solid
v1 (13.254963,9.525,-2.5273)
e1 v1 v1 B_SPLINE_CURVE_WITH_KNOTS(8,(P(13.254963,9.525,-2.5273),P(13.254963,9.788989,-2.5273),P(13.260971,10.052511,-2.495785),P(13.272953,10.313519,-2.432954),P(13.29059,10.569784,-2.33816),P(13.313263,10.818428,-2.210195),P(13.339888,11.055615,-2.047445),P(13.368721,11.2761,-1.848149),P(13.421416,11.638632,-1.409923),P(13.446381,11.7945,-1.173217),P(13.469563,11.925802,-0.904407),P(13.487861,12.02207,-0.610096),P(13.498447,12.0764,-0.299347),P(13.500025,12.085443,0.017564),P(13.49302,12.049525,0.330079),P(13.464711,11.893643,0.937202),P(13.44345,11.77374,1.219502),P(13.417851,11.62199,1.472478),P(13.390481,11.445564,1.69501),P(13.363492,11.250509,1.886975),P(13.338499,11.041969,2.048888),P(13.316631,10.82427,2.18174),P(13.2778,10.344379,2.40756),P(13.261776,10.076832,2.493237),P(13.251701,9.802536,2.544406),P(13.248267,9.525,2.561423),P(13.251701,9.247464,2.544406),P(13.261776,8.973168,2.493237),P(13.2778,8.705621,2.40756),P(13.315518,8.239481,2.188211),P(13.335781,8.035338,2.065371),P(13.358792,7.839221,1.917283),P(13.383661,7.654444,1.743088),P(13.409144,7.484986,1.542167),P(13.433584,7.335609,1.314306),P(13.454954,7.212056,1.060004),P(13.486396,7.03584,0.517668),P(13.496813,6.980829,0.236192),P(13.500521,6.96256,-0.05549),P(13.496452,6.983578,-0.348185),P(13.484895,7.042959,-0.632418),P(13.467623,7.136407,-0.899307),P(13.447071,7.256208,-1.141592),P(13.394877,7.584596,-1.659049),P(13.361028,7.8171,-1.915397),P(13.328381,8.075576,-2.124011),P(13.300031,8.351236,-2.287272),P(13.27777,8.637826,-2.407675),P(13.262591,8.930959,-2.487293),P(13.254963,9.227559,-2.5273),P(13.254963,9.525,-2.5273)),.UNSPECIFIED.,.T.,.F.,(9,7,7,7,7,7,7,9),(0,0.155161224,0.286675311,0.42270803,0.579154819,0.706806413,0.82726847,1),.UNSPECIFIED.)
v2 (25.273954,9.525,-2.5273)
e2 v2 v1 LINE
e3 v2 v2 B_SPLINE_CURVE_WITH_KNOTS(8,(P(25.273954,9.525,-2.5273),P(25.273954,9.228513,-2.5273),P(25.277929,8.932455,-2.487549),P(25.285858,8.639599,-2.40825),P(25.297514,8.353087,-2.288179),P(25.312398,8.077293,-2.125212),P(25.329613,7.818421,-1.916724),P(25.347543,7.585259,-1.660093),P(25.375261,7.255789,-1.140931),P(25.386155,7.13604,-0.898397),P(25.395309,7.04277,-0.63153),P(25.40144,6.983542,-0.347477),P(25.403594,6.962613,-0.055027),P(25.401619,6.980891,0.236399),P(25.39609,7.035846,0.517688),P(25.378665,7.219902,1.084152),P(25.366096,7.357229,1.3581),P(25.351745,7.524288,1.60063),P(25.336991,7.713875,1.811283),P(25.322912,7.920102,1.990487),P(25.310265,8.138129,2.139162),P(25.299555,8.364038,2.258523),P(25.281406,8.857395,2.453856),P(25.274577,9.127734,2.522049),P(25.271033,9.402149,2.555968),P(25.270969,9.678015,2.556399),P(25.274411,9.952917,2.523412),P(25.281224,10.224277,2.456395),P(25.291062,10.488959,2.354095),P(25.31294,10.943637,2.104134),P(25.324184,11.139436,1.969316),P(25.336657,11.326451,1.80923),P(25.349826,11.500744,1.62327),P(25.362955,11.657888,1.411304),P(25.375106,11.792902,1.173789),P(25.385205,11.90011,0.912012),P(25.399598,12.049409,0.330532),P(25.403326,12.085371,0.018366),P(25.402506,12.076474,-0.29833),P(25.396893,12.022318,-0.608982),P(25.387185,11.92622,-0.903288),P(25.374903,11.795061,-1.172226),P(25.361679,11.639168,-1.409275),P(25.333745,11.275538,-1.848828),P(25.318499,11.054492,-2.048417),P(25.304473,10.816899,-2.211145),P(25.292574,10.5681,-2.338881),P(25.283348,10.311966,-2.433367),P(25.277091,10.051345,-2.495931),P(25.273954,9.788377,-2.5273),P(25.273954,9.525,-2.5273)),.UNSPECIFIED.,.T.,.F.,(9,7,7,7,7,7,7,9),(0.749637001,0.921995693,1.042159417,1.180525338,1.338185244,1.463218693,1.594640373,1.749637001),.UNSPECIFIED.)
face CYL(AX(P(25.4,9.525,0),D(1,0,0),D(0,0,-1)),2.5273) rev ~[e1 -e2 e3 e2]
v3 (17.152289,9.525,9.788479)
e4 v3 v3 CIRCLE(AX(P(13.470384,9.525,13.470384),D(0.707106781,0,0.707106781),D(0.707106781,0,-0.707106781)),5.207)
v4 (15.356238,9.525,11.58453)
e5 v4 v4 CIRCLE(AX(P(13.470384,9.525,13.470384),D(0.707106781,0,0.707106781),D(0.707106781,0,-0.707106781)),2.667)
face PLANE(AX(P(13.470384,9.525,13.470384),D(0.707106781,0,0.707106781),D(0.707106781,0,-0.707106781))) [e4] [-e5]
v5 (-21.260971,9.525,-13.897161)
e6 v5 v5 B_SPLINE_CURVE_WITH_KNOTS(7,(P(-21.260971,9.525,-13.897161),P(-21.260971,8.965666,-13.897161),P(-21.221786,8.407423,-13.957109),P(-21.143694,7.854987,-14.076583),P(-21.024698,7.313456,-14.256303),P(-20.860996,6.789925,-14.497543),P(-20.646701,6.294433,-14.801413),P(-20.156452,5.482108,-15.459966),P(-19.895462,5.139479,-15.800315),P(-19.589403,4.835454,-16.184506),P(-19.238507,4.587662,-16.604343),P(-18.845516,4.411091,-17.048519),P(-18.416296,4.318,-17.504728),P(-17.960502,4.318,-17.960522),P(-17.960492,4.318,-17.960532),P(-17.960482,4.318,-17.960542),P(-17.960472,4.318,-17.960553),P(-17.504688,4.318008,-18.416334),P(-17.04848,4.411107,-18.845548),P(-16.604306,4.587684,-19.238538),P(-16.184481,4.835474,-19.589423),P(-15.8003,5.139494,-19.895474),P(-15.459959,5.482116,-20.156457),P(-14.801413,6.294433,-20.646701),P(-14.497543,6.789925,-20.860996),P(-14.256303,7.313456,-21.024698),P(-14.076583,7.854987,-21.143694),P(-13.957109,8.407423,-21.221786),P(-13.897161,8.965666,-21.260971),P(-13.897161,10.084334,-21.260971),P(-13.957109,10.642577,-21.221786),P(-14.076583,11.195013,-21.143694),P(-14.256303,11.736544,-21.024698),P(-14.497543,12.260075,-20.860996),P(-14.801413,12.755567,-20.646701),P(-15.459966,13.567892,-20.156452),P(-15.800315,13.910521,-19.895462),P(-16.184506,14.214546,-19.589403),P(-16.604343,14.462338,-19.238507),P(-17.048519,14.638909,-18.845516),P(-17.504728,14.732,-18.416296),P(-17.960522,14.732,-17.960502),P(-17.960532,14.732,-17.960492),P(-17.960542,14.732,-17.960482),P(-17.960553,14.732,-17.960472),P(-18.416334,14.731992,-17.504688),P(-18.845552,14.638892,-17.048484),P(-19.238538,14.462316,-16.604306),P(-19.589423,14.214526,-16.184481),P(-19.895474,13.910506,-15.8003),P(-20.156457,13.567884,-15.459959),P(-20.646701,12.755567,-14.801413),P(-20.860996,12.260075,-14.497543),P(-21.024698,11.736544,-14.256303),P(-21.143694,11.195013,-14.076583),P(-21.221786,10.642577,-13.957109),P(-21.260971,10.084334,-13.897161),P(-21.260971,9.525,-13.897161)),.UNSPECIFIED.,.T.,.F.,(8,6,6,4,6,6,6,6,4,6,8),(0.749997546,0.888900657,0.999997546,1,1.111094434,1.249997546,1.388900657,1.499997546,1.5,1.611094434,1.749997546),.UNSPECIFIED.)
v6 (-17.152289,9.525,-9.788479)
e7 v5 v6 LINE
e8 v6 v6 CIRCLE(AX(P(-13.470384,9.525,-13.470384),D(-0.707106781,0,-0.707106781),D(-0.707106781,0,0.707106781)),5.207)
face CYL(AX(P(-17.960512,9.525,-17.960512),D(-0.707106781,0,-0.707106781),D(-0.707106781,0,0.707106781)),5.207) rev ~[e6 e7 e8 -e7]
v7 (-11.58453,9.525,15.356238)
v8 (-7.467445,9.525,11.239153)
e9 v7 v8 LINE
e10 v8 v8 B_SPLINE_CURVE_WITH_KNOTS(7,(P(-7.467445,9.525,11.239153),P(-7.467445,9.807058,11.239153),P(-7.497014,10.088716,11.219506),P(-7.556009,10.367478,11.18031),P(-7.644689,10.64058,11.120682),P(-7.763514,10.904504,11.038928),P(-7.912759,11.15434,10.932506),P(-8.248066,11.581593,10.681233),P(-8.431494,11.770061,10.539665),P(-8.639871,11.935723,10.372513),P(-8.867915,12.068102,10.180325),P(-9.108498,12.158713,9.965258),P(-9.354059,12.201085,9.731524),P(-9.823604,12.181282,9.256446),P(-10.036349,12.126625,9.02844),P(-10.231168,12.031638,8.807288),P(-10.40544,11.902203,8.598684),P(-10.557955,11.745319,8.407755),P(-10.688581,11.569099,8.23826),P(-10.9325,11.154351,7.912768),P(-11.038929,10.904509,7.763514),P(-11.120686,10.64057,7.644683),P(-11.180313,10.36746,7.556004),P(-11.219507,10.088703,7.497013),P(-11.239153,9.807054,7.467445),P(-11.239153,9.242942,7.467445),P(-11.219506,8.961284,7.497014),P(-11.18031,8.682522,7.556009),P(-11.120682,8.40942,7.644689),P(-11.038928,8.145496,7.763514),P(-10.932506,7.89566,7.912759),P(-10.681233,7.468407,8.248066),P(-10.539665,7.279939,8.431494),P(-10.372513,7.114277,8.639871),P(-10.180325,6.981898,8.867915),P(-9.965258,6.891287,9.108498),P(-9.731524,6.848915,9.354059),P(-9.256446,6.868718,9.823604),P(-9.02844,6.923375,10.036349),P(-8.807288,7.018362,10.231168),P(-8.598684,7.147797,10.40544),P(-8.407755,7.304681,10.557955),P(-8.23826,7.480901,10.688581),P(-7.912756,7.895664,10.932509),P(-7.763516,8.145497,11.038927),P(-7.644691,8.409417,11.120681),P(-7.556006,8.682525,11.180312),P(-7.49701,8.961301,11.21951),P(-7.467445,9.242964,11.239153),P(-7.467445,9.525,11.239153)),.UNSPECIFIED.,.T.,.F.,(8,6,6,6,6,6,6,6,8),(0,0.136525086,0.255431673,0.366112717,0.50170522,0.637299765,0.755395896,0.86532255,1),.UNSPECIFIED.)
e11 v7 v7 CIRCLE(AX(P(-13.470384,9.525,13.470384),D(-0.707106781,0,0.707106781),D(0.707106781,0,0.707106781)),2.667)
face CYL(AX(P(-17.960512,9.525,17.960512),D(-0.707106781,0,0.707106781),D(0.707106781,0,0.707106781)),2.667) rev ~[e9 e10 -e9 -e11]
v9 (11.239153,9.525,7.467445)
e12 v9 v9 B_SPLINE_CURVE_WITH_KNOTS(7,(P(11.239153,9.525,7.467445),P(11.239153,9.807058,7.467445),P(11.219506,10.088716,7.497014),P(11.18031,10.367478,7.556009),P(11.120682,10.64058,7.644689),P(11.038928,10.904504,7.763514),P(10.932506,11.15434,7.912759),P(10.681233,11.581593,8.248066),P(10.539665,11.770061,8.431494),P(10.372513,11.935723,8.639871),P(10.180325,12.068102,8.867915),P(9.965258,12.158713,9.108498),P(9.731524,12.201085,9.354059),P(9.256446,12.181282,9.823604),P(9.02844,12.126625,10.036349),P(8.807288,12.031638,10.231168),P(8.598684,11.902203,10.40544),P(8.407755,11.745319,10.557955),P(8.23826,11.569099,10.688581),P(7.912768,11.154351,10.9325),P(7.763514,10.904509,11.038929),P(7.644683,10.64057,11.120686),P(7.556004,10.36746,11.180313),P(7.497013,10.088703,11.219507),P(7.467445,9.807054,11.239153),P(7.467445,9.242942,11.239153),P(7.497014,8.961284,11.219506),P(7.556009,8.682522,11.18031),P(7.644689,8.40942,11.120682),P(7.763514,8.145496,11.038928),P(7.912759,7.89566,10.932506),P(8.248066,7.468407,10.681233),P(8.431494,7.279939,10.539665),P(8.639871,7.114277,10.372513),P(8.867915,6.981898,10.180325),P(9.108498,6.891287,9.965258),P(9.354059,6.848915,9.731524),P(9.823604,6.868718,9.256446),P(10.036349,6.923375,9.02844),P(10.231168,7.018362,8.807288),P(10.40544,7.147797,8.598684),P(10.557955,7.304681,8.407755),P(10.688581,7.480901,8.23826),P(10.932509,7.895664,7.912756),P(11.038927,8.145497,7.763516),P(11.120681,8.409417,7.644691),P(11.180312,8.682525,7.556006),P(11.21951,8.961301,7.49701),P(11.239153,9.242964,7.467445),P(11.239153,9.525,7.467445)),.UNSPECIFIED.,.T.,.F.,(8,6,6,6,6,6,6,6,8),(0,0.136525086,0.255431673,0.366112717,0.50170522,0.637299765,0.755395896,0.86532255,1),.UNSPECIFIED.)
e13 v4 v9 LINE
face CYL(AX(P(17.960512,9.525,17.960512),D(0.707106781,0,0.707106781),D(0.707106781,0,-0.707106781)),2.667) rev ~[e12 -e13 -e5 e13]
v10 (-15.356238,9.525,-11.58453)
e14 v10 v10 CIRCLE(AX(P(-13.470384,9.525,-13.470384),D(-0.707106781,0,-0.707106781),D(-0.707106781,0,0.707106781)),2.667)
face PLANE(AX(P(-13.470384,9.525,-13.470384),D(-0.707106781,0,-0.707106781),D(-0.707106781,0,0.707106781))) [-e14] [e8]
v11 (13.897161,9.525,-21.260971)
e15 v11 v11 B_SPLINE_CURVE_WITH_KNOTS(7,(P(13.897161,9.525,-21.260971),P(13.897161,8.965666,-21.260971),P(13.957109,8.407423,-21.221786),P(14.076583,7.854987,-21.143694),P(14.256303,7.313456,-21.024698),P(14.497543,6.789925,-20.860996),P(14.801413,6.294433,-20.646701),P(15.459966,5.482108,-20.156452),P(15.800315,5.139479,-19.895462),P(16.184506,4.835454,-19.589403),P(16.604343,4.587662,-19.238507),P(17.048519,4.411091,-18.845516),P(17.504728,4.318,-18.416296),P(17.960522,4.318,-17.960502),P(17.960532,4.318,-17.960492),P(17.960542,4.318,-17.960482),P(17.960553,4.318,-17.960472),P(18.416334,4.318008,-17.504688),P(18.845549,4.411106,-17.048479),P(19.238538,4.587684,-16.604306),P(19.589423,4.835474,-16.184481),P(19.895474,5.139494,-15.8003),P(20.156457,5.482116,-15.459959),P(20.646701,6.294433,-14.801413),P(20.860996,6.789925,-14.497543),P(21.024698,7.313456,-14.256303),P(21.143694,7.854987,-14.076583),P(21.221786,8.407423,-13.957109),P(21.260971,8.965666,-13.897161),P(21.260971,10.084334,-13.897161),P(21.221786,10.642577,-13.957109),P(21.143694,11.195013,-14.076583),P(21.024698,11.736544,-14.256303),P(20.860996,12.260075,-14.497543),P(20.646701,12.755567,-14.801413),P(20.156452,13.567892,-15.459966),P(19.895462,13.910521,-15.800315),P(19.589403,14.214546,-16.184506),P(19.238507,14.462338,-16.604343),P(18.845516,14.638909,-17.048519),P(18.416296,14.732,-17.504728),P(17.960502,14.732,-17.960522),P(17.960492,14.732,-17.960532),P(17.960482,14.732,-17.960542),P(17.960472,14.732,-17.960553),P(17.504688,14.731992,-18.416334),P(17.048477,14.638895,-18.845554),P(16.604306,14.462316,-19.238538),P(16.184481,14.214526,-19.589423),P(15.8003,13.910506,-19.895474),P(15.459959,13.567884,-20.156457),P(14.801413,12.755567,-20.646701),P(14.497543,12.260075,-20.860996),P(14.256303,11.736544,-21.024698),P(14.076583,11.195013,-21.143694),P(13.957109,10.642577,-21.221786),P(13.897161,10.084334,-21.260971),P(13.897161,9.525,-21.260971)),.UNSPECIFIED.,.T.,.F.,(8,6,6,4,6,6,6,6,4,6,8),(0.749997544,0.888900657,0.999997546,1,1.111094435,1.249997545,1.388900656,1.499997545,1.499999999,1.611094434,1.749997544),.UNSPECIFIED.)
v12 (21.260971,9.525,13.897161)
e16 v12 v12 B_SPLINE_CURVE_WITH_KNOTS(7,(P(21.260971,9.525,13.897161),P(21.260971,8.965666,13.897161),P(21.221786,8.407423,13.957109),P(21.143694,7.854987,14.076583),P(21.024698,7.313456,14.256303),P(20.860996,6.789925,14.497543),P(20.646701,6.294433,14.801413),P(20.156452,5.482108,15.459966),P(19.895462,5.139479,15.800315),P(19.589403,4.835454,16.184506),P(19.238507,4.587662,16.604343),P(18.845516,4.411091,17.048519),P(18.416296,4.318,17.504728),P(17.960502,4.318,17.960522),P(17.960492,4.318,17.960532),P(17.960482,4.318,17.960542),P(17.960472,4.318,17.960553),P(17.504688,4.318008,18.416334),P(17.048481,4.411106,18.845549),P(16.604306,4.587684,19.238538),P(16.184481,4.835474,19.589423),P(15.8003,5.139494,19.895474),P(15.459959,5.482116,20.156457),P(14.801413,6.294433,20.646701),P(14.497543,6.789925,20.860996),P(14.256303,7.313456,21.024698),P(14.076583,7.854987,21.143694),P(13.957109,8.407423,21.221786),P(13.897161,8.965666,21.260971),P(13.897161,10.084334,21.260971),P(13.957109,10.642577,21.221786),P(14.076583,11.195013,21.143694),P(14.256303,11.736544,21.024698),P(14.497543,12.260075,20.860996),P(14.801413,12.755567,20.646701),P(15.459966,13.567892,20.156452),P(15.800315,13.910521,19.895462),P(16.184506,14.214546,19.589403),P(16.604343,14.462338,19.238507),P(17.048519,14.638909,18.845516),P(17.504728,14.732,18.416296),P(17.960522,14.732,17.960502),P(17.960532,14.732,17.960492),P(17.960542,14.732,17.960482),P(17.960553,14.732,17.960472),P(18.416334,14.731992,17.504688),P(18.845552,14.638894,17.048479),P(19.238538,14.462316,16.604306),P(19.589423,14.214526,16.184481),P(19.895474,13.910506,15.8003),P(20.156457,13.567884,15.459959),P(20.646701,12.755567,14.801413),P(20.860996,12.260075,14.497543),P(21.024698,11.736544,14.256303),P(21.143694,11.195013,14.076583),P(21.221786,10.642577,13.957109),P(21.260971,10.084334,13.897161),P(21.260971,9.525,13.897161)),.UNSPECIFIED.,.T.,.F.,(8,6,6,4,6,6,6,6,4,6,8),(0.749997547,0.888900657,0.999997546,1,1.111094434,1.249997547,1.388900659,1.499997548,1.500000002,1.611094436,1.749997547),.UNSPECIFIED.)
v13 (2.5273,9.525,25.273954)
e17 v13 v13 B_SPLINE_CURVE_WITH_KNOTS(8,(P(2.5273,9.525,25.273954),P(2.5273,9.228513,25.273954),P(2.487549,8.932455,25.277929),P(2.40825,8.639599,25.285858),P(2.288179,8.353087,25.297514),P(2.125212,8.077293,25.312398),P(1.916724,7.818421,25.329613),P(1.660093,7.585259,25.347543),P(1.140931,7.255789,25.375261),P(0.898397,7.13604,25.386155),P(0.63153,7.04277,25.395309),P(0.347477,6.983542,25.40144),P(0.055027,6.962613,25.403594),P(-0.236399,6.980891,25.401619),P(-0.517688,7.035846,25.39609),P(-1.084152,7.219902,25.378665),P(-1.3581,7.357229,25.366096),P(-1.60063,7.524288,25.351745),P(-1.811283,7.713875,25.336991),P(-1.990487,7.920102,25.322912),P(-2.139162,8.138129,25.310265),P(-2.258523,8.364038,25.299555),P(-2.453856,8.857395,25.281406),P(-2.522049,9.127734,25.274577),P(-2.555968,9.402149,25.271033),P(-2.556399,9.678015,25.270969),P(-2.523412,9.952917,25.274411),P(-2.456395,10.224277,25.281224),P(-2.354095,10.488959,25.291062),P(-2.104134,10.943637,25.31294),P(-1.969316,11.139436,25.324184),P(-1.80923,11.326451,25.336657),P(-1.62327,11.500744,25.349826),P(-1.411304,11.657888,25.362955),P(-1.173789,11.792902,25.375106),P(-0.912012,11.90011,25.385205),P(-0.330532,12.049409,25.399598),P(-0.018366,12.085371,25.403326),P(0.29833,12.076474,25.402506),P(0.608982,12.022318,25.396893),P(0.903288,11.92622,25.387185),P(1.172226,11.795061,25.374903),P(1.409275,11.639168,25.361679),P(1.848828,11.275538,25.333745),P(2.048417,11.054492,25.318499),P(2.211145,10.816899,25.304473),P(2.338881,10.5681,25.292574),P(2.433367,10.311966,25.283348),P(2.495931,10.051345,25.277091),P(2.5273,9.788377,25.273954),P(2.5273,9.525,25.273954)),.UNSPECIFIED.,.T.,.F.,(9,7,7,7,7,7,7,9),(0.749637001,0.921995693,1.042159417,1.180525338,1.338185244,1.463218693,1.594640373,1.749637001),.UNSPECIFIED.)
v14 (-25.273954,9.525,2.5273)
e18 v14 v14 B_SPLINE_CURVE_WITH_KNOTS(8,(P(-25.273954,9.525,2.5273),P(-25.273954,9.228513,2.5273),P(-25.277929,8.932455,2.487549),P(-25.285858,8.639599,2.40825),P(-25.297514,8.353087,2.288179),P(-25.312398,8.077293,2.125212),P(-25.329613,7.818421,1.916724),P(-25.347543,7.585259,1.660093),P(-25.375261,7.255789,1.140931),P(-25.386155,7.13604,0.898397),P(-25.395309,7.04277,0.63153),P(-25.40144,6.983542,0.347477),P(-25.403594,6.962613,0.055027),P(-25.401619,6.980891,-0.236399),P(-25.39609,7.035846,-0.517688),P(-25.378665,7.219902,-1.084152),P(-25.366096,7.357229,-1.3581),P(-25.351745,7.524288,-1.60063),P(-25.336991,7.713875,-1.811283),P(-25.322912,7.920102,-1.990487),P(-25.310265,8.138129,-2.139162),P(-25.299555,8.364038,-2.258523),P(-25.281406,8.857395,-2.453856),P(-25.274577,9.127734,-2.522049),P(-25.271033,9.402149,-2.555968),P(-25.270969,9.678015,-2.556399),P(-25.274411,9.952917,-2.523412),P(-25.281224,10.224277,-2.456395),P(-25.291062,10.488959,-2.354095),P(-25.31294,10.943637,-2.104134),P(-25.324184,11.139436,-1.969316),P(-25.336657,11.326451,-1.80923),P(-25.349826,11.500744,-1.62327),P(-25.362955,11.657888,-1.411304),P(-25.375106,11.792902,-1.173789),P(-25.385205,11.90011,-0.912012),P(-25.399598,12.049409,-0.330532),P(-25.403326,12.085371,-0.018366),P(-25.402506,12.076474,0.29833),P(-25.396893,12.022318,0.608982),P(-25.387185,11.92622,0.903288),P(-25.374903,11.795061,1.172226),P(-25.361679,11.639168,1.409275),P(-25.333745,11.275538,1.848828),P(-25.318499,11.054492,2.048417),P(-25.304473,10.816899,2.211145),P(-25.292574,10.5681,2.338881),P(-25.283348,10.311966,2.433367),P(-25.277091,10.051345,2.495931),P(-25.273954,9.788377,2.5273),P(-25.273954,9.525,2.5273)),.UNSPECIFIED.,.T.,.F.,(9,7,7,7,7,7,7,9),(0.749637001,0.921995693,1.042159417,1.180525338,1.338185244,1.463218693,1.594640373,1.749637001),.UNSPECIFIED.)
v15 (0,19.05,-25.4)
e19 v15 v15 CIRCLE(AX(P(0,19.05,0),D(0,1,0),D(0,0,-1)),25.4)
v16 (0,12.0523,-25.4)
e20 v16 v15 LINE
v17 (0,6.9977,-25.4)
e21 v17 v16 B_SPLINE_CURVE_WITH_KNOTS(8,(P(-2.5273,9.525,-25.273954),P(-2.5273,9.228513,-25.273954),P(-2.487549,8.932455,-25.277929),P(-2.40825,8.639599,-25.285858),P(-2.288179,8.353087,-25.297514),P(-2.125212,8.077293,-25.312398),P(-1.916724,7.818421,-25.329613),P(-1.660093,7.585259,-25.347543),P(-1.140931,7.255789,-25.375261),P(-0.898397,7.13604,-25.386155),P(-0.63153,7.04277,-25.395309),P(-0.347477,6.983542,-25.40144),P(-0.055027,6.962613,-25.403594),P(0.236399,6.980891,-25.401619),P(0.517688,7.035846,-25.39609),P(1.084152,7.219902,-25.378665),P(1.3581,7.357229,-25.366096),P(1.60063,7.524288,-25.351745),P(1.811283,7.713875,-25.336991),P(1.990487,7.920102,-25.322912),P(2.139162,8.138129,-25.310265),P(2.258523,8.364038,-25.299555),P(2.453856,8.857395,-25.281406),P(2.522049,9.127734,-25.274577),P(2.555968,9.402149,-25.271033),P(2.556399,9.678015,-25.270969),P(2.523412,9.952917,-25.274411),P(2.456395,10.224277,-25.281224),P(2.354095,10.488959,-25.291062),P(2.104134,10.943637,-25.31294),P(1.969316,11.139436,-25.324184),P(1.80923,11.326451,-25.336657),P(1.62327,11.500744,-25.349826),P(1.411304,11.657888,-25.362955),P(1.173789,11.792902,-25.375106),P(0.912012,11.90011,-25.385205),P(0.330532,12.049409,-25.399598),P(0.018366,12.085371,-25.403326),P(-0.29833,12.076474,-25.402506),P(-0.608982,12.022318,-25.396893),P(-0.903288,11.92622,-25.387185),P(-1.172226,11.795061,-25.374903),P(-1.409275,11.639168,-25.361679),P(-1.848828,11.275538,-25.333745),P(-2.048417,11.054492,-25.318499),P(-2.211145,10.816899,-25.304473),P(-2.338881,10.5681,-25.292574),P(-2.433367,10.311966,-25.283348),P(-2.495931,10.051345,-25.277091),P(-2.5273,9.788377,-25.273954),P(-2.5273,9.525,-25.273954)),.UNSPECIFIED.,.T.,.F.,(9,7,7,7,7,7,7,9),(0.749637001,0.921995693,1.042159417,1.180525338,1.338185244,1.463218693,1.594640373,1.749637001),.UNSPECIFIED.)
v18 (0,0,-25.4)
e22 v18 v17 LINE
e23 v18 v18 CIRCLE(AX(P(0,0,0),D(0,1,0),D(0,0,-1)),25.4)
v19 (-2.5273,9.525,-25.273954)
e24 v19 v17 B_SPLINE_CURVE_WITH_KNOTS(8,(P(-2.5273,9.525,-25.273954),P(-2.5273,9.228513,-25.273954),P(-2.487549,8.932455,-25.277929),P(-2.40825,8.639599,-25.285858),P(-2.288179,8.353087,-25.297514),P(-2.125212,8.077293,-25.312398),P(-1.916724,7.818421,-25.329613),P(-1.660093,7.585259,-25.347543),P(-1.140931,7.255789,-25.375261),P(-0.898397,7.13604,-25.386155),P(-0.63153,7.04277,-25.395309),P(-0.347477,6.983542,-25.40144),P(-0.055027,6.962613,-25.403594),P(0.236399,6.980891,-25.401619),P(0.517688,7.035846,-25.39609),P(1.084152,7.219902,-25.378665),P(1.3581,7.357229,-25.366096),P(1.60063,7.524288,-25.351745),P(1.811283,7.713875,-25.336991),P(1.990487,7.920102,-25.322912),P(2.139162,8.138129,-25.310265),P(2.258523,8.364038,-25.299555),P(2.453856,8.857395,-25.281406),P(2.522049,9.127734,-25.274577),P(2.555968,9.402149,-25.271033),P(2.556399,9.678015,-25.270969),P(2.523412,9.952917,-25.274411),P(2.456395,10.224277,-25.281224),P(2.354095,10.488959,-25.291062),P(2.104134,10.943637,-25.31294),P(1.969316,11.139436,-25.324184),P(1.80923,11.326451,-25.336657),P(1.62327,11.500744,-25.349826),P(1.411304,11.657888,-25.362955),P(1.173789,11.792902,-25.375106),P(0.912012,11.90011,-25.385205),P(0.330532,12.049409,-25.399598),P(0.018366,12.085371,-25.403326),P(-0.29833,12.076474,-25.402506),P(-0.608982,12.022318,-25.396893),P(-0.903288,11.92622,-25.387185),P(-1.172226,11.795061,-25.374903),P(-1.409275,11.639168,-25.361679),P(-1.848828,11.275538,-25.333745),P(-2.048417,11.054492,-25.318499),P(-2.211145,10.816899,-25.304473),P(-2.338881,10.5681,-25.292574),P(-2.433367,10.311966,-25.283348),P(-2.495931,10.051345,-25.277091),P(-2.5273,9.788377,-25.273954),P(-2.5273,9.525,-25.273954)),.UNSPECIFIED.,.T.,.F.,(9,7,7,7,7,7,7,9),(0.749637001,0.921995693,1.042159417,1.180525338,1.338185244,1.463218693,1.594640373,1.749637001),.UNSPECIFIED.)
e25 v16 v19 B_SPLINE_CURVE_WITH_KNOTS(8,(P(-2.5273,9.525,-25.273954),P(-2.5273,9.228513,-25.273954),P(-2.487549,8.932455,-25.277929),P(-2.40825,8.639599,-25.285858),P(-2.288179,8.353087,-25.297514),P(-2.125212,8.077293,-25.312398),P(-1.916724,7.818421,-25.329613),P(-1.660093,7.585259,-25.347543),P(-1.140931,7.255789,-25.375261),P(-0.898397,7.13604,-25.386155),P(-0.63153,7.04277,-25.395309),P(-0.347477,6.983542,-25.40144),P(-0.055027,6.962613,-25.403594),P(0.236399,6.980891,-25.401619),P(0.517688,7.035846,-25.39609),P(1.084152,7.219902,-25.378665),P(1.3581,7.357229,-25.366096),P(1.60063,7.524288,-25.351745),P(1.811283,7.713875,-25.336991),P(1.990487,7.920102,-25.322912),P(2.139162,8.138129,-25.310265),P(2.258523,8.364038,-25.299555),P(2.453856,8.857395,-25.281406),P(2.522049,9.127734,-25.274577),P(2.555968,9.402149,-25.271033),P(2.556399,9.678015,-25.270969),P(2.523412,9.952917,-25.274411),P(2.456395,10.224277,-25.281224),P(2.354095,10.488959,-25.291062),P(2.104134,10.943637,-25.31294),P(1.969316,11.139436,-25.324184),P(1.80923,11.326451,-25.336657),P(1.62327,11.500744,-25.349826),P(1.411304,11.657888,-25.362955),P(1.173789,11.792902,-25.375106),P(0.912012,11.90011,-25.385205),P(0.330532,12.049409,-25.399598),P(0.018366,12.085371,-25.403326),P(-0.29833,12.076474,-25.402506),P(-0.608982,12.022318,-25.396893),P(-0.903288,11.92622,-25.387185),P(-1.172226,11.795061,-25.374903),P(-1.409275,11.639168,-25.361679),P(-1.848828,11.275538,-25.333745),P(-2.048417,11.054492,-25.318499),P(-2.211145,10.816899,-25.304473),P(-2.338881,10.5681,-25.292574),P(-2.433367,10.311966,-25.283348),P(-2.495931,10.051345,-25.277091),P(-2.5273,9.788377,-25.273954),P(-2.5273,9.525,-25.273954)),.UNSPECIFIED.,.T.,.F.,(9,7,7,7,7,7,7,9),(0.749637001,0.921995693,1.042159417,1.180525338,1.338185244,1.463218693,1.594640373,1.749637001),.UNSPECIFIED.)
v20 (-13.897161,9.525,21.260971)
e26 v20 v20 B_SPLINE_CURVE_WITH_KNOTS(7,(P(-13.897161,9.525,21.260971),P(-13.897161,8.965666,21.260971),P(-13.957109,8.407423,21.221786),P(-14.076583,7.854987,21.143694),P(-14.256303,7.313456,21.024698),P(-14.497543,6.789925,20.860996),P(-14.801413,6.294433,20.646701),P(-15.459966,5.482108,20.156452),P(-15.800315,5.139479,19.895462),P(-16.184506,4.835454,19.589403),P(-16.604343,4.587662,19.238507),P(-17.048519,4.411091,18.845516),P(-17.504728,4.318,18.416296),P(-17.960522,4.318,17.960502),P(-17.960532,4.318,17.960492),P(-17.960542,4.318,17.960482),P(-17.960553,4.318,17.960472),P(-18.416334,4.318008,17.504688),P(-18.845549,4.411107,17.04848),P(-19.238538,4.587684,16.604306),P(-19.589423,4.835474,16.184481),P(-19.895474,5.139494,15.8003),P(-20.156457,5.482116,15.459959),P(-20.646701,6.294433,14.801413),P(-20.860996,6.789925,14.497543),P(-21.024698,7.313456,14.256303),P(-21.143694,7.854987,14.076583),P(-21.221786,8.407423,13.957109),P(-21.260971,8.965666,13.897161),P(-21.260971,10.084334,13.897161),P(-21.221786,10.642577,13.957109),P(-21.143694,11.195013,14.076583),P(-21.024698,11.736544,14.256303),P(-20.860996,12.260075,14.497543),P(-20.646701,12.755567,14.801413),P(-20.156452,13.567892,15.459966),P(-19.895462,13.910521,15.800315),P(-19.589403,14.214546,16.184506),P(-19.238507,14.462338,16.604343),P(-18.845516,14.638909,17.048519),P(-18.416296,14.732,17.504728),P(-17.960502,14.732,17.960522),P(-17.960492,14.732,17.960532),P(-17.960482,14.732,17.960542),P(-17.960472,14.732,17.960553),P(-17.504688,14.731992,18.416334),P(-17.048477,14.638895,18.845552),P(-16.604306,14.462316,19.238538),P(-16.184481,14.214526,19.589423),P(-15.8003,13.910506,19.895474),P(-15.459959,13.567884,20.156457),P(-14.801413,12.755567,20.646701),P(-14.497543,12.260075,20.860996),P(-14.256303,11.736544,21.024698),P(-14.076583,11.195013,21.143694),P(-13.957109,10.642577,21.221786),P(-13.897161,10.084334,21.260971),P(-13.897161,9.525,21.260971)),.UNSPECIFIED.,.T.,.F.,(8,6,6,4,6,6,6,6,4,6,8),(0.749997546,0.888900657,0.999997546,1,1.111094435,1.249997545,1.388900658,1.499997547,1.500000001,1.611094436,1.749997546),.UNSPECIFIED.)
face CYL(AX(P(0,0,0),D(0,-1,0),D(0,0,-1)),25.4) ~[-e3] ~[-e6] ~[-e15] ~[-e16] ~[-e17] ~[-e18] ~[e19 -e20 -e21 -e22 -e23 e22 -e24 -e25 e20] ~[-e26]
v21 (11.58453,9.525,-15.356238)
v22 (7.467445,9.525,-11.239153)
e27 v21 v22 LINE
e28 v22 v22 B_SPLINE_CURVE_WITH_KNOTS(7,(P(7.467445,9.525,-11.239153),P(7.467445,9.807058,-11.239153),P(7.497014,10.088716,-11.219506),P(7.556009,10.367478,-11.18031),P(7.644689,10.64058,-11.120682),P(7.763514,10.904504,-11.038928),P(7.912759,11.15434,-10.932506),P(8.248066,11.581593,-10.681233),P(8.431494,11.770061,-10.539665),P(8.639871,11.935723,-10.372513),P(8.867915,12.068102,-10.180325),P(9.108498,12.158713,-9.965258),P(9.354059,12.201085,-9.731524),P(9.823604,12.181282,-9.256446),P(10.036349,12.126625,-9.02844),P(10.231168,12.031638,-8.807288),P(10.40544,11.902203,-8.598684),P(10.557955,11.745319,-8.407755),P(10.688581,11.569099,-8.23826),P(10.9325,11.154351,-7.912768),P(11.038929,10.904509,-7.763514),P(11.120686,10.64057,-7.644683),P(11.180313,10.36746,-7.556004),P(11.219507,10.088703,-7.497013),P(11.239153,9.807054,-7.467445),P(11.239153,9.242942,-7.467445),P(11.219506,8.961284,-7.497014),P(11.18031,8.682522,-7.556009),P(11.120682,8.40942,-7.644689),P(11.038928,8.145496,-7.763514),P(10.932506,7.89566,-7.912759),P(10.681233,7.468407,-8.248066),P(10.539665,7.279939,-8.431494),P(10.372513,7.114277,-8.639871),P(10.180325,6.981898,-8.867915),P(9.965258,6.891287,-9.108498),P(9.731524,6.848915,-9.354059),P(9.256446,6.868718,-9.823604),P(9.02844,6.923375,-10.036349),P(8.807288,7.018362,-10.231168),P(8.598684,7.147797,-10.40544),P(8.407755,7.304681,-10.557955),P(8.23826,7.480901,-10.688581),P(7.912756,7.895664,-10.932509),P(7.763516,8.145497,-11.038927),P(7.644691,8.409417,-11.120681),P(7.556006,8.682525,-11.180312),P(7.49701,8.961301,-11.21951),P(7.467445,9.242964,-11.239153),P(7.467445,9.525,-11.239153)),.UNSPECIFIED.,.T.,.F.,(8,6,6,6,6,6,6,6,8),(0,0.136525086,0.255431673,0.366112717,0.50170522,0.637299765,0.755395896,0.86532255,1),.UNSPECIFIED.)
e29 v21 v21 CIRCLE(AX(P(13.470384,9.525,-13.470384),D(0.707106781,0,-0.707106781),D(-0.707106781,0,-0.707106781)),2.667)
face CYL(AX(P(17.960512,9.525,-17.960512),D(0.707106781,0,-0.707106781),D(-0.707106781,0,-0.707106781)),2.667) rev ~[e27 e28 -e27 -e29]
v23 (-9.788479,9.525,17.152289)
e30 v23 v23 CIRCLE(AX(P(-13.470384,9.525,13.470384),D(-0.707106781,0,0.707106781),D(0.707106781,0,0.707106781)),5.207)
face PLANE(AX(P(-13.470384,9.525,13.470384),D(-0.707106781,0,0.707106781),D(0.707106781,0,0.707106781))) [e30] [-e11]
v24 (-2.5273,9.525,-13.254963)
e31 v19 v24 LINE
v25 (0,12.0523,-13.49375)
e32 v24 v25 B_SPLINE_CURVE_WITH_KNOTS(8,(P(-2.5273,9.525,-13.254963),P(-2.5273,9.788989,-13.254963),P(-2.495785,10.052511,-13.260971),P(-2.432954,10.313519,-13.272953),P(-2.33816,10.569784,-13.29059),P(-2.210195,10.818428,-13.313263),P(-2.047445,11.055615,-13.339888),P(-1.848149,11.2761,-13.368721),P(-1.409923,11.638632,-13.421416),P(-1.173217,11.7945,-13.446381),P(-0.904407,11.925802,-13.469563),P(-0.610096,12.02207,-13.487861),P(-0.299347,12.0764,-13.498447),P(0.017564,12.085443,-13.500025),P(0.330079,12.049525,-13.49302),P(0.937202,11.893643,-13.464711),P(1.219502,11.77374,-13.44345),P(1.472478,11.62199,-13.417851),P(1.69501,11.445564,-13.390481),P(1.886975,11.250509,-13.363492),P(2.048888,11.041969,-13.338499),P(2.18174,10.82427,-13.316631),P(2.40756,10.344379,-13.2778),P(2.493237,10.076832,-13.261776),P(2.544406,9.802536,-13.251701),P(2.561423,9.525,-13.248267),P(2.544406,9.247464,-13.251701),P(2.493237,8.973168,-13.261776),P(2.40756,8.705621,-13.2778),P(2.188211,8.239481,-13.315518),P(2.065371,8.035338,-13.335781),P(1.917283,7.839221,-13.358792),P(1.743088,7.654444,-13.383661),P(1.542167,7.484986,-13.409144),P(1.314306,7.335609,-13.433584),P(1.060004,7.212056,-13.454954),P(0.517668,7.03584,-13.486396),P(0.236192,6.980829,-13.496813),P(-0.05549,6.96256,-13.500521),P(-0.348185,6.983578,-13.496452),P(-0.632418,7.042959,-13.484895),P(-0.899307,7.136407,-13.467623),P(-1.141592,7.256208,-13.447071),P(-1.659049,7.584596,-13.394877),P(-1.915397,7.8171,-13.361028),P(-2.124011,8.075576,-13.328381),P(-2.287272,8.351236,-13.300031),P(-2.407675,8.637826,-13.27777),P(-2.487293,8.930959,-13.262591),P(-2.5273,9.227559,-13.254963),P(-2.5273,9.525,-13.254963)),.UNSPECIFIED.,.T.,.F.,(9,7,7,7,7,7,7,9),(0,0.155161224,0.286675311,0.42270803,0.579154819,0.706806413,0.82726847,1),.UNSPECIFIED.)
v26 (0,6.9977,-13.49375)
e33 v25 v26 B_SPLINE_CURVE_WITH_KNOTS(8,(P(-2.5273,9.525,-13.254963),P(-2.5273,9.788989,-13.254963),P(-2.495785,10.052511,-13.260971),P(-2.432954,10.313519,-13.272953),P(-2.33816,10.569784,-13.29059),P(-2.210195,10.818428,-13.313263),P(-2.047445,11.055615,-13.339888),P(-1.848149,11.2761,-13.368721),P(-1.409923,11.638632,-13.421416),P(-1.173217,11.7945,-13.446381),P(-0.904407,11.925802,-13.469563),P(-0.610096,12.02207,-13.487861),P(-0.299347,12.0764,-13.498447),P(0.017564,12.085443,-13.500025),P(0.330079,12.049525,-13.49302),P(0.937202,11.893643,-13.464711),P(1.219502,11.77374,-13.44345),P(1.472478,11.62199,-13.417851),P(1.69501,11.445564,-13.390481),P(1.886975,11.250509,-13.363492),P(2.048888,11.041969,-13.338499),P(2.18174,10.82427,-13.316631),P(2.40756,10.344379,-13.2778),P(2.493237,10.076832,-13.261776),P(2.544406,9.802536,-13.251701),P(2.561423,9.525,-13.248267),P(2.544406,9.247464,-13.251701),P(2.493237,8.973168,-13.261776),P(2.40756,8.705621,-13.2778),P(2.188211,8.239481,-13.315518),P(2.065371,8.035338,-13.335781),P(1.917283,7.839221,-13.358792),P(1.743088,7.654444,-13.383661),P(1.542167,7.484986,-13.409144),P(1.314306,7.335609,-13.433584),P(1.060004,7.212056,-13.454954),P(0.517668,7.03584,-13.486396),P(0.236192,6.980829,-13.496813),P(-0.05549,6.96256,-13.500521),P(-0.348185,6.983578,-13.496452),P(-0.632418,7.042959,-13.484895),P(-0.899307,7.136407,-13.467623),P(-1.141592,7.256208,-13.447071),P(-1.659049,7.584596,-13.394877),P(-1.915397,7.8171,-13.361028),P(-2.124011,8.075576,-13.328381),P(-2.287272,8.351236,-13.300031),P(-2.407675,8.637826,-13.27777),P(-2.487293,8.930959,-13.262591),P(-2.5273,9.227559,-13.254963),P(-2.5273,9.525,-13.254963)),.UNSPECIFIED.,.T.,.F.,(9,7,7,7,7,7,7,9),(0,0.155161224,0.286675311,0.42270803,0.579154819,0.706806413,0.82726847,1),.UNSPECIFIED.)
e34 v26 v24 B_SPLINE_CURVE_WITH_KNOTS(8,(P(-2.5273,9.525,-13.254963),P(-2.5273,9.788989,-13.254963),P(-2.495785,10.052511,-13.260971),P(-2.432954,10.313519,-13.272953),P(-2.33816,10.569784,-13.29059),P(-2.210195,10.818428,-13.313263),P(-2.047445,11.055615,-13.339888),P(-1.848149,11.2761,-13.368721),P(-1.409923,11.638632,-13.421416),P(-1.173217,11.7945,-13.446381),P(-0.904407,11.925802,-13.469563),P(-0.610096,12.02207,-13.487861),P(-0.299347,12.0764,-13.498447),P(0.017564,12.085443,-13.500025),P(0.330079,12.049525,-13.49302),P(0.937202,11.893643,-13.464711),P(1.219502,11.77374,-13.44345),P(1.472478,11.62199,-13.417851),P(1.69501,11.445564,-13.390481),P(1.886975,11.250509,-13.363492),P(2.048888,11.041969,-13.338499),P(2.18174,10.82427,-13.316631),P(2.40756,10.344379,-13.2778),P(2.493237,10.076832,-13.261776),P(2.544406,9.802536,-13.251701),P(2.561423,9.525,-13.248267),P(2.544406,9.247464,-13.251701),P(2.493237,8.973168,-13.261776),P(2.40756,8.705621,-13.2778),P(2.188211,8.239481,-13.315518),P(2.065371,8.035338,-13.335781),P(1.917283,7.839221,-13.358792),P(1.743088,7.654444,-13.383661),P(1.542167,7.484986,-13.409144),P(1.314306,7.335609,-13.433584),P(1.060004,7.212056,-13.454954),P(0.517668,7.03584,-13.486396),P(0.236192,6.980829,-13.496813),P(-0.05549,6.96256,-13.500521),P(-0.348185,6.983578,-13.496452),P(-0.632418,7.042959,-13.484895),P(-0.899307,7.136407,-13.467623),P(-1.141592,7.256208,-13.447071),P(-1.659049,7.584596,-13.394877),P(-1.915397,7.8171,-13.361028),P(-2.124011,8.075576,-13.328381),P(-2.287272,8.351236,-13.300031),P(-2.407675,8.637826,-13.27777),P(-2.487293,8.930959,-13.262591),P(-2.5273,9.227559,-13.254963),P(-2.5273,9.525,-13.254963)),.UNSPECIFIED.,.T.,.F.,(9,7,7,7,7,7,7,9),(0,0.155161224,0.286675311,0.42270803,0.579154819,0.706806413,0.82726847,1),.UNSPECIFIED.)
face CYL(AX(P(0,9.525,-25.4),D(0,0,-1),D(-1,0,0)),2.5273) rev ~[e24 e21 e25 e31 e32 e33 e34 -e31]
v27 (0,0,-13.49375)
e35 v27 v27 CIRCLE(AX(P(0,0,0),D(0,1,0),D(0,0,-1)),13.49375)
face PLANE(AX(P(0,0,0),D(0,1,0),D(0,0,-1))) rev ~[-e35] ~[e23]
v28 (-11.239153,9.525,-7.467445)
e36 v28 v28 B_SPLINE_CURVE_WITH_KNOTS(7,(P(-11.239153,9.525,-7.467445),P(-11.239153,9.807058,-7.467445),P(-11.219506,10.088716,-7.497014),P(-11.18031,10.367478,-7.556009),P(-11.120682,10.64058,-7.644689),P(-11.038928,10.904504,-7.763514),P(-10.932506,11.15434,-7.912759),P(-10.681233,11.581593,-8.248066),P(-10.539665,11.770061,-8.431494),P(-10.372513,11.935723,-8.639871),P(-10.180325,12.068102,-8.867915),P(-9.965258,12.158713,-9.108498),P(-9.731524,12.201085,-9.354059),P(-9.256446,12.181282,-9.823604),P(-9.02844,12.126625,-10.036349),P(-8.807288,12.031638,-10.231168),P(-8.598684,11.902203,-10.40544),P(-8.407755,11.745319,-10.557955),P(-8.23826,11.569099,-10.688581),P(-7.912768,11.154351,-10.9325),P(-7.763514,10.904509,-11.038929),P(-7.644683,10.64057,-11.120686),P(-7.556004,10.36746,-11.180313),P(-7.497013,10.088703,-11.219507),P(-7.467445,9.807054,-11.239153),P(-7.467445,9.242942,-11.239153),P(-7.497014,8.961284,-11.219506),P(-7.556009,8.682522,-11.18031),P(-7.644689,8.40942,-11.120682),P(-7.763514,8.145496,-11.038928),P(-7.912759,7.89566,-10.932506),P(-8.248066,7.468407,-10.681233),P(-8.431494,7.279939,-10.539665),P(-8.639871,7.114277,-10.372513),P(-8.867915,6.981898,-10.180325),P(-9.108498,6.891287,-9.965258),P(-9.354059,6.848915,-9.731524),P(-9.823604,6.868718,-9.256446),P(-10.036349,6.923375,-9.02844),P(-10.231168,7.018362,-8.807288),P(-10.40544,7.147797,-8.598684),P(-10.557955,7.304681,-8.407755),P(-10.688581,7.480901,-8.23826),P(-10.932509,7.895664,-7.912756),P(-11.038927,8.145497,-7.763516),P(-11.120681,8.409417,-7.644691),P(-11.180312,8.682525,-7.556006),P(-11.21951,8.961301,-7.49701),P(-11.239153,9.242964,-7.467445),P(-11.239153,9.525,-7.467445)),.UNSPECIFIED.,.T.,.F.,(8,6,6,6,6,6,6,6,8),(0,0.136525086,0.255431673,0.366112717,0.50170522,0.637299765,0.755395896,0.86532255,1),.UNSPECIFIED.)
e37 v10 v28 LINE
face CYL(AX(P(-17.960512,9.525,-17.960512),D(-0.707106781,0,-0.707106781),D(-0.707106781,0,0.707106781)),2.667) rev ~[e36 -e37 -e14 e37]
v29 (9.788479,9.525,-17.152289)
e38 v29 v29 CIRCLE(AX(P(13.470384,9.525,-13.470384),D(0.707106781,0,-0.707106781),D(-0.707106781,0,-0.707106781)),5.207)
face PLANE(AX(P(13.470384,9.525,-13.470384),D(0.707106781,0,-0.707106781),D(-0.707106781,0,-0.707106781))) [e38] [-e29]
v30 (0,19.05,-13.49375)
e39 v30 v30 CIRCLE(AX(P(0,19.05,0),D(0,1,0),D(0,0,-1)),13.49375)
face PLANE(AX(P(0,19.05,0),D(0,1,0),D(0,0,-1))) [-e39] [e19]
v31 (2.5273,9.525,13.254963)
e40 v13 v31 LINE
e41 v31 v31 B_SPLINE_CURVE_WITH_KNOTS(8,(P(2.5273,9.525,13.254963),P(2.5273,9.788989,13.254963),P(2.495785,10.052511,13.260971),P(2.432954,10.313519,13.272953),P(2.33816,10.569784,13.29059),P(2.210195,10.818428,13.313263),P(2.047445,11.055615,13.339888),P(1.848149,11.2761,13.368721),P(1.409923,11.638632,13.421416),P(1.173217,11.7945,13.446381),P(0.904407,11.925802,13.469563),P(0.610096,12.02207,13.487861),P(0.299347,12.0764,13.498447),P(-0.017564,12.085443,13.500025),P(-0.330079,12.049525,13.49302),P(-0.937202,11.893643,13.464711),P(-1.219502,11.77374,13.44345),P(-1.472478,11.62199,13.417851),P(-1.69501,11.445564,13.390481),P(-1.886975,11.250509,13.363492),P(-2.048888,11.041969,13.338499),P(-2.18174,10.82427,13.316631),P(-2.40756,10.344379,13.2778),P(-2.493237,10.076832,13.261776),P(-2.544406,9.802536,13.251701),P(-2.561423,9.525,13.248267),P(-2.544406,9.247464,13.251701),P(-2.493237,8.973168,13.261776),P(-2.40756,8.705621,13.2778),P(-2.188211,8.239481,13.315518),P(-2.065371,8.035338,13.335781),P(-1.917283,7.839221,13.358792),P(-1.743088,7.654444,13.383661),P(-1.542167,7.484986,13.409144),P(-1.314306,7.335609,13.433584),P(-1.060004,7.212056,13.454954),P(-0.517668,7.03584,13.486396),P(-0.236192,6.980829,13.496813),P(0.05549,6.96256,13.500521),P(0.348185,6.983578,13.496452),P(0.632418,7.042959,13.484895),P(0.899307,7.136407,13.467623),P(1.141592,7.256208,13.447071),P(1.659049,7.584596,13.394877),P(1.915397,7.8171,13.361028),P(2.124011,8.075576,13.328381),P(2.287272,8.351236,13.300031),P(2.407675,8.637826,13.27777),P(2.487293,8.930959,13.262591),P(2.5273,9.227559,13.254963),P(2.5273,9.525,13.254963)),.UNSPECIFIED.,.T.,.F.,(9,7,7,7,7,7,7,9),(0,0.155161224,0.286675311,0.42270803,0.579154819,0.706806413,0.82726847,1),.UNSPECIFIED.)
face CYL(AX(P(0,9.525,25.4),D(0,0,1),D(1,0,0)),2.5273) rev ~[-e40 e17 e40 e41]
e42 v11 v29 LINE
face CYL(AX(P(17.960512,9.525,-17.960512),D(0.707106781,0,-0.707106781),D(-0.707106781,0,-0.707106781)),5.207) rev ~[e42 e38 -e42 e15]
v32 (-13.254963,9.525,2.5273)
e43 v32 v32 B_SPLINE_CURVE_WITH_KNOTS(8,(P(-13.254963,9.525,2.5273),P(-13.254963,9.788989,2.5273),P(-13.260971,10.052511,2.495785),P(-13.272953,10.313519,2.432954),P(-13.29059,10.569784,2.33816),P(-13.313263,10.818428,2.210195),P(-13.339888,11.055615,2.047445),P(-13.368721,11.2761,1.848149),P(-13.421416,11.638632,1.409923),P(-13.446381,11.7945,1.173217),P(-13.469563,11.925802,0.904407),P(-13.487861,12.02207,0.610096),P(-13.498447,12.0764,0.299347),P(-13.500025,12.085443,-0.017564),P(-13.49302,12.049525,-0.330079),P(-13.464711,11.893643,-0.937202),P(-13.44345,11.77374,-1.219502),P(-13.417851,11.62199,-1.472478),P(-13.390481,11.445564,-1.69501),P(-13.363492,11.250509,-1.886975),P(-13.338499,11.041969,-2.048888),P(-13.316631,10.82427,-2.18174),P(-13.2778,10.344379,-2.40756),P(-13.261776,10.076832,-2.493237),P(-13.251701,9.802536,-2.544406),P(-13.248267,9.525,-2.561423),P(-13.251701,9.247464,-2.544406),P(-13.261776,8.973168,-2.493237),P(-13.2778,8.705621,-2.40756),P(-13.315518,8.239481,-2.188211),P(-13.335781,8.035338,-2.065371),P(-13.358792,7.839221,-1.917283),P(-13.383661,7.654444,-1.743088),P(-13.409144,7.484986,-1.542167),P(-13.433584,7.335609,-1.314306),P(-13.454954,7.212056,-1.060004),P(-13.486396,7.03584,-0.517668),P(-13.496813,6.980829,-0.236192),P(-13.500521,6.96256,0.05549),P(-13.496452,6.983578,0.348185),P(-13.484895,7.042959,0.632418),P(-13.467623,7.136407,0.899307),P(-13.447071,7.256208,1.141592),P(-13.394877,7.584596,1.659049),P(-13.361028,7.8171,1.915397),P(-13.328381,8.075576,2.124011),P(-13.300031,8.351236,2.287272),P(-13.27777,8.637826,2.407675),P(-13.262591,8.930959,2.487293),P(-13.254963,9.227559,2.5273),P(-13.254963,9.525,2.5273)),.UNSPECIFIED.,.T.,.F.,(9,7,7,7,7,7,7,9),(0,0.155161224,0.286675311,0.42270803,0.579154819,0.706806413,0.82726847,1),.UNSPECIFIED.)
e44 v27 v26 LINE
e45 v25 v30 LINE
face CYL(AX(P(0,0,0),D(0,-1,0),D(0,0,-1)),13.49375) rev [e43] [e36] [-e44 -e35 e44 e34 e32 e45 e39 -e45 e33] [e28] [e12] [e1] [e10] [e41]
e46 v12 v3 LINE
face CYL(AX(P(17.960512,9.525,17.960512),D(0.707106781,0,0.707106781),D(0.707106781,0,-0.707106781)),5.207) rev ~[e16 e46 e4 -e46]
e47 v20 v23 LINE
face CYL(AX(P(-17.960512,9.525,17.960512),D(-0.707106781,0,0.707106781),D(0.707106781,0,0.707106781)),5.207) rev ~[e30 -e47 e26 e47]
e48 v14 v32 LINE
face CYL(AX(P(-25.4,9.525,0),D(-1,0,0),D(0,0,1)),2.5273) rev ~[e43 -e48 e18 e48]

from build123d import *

# Parameters (mm, degrees)
SKETCH1_R                       = 25.4
SKETCH1_R_2                     = 13.49375
BOSS_EXTRUDE1_DEPTH             = 19.05
F_8_0_199_DIAMETER_HOLE1_REACH  = 61.906
F_8_0_199_DIAMETER_HOLE1_BORE_R = 2.5273
BULKHEAD_THROUGH_REACH          = 66.212
BULKHEAD_THROUGH_END_RADIUS     = 13.49375
SKETCH6_R                       = 2.667
SKETCH6_4_R                     = 5.207
ACCESS_HOLE_DEPTH               = 6.35
CIRPATTERN1_COUNT               = 4


with BuildPart() as part:
    # Sketch1 → Boss-Extrude1 (new body)
    with BuildSketch(Plane(origin=(0, 0, 0), x_dir=(1, 0, 0), z_dir=(0, 1, 0))):
        with Locations(Location((0, 0, 0), (0, 0, 90))):
            Circle(SKETCH1_R)
        with Locations(Location((0, 0, 0), (0, 0, 90))):
            Circle(SKETCH1_R_2, mode=Mode.SUBTRACT)
    extrude(amount=BOSS_EXTRUDE1_DEPTH)

    # #8 (0.199) Diameter Hole1 bore → #8 (0.199) Diameter Hole1 (cut, up to next)
    with BuildSketch(Plane(origin=(25.4, 0, 0), x_dir=(0, 0, -1), z_dir=(1, 0, 0)), mode=Mode.PRIVATE) as f_8_0_199_diameter_hole1_sk1:
        with Locations((0, 9.525)):
            Circle(F_8_0_199_DIAMETER_HOLE1_BORE_R)
    f_8_0_199_diameter_hole1_tool1 = extrude(f_8_0_199_diameter_hole1_sk1.sketch, amount=-F_8_0_199_DIAMETER_HOLE1_REACH, mode=Mode.PRIVATE) & part.part
    f_8_0_199_diameter_hole1 = f_8_0_199_diameter_hole1_tool1.solids().sort_by_distance((25.4, 9.525, 0))[0]
    add(f_8_0_199_diameter_hole1, mode=Mode.SUBTRACT)

    # bulkhead_through: up to this cylinder (the profile starts outside it)
    bulkhead_through_end = Plane(origin=(0, 9.525, 0), z_dir=(0, -1, 0)) * Cylinder(BULKHEAD_THROUGH_END_RADIUS, 160.4115, mode=Mode.PRIVATE)
    # Sketch6 → bulkhead_through (cut, up to the surface)
    with BuildSketch(Plane(origin=(17.960512242, 0, 17.960512242), x_dir=(0.7071067811865487, 0, -0.7071067811865465), z_dir=(0.7071067811865465, 0, 0.7071067811865487)), mode=Mode.PRIVATE) as bulkhead_through_sk1:
        with Locations((0, 9.525)):
            Circle(SKETCH6_R)
    bulkhead_through_tool1 = extrude(bulkhead_through_sk1.sketch, amount=-BULKHEAD_THROUGH_REACH, mode=Mode.PRIVATE) - bulkhead_through_end
    bulkhead_through = bulkhead_through_tool1.solids().sort_by_distance((17.960512, 9.525, 17.960512))[0]
    add(bulkhead_through, mode=Mode.SUBTRACT)

    # Sketch6<4> → access_hole (cut)
    with BuildSketch(Plane(origin=(17.960512242, 0, 17.960512242), x_dir=(0.7071067811865487, 0, -0.7071067811865465), z_dir=(0.7071067811865465, 0, 0.7071067811865487))):
        with Locations((0, 9.525)):
            Circle(SKETCH6_4_R)
    access_hole = extrude(amount=-ACCESS_HOLE_DEPTH, mode=Mode.SUBTRACT)

    # CirPattern1: #8 (0.199) Diameter Hole1, bulkhead_through, access_hole ×4 about axis
    cirpattern1_axis = Axis((0, 0, 0), (0, 1, 0))
    add([f_8_0_199_diameter_hole1.rotate(cirpattern1_axis, i * 360 / CIRPATTERN1_COUNT) for i in range(1, CIRPATTERN1_COUNT)], mode=Mode.SUBTRACT)
    add([bulkhead_through.rotate(cirpattern1_axis, i * 360 / CIRPATTERN1_COUNT) for i in range(1, CIRPATTERN1_COUNT)], mode=Mode.SUBTRACT)
    add([access_hole.rotate(cirpattern1_axis, i * 360 / CIRPATTERN1_COUNT) for i in range(1, CIRPATTERN1_COUNT)], mode=Mode.SUBTRACT)


solid = part.part
